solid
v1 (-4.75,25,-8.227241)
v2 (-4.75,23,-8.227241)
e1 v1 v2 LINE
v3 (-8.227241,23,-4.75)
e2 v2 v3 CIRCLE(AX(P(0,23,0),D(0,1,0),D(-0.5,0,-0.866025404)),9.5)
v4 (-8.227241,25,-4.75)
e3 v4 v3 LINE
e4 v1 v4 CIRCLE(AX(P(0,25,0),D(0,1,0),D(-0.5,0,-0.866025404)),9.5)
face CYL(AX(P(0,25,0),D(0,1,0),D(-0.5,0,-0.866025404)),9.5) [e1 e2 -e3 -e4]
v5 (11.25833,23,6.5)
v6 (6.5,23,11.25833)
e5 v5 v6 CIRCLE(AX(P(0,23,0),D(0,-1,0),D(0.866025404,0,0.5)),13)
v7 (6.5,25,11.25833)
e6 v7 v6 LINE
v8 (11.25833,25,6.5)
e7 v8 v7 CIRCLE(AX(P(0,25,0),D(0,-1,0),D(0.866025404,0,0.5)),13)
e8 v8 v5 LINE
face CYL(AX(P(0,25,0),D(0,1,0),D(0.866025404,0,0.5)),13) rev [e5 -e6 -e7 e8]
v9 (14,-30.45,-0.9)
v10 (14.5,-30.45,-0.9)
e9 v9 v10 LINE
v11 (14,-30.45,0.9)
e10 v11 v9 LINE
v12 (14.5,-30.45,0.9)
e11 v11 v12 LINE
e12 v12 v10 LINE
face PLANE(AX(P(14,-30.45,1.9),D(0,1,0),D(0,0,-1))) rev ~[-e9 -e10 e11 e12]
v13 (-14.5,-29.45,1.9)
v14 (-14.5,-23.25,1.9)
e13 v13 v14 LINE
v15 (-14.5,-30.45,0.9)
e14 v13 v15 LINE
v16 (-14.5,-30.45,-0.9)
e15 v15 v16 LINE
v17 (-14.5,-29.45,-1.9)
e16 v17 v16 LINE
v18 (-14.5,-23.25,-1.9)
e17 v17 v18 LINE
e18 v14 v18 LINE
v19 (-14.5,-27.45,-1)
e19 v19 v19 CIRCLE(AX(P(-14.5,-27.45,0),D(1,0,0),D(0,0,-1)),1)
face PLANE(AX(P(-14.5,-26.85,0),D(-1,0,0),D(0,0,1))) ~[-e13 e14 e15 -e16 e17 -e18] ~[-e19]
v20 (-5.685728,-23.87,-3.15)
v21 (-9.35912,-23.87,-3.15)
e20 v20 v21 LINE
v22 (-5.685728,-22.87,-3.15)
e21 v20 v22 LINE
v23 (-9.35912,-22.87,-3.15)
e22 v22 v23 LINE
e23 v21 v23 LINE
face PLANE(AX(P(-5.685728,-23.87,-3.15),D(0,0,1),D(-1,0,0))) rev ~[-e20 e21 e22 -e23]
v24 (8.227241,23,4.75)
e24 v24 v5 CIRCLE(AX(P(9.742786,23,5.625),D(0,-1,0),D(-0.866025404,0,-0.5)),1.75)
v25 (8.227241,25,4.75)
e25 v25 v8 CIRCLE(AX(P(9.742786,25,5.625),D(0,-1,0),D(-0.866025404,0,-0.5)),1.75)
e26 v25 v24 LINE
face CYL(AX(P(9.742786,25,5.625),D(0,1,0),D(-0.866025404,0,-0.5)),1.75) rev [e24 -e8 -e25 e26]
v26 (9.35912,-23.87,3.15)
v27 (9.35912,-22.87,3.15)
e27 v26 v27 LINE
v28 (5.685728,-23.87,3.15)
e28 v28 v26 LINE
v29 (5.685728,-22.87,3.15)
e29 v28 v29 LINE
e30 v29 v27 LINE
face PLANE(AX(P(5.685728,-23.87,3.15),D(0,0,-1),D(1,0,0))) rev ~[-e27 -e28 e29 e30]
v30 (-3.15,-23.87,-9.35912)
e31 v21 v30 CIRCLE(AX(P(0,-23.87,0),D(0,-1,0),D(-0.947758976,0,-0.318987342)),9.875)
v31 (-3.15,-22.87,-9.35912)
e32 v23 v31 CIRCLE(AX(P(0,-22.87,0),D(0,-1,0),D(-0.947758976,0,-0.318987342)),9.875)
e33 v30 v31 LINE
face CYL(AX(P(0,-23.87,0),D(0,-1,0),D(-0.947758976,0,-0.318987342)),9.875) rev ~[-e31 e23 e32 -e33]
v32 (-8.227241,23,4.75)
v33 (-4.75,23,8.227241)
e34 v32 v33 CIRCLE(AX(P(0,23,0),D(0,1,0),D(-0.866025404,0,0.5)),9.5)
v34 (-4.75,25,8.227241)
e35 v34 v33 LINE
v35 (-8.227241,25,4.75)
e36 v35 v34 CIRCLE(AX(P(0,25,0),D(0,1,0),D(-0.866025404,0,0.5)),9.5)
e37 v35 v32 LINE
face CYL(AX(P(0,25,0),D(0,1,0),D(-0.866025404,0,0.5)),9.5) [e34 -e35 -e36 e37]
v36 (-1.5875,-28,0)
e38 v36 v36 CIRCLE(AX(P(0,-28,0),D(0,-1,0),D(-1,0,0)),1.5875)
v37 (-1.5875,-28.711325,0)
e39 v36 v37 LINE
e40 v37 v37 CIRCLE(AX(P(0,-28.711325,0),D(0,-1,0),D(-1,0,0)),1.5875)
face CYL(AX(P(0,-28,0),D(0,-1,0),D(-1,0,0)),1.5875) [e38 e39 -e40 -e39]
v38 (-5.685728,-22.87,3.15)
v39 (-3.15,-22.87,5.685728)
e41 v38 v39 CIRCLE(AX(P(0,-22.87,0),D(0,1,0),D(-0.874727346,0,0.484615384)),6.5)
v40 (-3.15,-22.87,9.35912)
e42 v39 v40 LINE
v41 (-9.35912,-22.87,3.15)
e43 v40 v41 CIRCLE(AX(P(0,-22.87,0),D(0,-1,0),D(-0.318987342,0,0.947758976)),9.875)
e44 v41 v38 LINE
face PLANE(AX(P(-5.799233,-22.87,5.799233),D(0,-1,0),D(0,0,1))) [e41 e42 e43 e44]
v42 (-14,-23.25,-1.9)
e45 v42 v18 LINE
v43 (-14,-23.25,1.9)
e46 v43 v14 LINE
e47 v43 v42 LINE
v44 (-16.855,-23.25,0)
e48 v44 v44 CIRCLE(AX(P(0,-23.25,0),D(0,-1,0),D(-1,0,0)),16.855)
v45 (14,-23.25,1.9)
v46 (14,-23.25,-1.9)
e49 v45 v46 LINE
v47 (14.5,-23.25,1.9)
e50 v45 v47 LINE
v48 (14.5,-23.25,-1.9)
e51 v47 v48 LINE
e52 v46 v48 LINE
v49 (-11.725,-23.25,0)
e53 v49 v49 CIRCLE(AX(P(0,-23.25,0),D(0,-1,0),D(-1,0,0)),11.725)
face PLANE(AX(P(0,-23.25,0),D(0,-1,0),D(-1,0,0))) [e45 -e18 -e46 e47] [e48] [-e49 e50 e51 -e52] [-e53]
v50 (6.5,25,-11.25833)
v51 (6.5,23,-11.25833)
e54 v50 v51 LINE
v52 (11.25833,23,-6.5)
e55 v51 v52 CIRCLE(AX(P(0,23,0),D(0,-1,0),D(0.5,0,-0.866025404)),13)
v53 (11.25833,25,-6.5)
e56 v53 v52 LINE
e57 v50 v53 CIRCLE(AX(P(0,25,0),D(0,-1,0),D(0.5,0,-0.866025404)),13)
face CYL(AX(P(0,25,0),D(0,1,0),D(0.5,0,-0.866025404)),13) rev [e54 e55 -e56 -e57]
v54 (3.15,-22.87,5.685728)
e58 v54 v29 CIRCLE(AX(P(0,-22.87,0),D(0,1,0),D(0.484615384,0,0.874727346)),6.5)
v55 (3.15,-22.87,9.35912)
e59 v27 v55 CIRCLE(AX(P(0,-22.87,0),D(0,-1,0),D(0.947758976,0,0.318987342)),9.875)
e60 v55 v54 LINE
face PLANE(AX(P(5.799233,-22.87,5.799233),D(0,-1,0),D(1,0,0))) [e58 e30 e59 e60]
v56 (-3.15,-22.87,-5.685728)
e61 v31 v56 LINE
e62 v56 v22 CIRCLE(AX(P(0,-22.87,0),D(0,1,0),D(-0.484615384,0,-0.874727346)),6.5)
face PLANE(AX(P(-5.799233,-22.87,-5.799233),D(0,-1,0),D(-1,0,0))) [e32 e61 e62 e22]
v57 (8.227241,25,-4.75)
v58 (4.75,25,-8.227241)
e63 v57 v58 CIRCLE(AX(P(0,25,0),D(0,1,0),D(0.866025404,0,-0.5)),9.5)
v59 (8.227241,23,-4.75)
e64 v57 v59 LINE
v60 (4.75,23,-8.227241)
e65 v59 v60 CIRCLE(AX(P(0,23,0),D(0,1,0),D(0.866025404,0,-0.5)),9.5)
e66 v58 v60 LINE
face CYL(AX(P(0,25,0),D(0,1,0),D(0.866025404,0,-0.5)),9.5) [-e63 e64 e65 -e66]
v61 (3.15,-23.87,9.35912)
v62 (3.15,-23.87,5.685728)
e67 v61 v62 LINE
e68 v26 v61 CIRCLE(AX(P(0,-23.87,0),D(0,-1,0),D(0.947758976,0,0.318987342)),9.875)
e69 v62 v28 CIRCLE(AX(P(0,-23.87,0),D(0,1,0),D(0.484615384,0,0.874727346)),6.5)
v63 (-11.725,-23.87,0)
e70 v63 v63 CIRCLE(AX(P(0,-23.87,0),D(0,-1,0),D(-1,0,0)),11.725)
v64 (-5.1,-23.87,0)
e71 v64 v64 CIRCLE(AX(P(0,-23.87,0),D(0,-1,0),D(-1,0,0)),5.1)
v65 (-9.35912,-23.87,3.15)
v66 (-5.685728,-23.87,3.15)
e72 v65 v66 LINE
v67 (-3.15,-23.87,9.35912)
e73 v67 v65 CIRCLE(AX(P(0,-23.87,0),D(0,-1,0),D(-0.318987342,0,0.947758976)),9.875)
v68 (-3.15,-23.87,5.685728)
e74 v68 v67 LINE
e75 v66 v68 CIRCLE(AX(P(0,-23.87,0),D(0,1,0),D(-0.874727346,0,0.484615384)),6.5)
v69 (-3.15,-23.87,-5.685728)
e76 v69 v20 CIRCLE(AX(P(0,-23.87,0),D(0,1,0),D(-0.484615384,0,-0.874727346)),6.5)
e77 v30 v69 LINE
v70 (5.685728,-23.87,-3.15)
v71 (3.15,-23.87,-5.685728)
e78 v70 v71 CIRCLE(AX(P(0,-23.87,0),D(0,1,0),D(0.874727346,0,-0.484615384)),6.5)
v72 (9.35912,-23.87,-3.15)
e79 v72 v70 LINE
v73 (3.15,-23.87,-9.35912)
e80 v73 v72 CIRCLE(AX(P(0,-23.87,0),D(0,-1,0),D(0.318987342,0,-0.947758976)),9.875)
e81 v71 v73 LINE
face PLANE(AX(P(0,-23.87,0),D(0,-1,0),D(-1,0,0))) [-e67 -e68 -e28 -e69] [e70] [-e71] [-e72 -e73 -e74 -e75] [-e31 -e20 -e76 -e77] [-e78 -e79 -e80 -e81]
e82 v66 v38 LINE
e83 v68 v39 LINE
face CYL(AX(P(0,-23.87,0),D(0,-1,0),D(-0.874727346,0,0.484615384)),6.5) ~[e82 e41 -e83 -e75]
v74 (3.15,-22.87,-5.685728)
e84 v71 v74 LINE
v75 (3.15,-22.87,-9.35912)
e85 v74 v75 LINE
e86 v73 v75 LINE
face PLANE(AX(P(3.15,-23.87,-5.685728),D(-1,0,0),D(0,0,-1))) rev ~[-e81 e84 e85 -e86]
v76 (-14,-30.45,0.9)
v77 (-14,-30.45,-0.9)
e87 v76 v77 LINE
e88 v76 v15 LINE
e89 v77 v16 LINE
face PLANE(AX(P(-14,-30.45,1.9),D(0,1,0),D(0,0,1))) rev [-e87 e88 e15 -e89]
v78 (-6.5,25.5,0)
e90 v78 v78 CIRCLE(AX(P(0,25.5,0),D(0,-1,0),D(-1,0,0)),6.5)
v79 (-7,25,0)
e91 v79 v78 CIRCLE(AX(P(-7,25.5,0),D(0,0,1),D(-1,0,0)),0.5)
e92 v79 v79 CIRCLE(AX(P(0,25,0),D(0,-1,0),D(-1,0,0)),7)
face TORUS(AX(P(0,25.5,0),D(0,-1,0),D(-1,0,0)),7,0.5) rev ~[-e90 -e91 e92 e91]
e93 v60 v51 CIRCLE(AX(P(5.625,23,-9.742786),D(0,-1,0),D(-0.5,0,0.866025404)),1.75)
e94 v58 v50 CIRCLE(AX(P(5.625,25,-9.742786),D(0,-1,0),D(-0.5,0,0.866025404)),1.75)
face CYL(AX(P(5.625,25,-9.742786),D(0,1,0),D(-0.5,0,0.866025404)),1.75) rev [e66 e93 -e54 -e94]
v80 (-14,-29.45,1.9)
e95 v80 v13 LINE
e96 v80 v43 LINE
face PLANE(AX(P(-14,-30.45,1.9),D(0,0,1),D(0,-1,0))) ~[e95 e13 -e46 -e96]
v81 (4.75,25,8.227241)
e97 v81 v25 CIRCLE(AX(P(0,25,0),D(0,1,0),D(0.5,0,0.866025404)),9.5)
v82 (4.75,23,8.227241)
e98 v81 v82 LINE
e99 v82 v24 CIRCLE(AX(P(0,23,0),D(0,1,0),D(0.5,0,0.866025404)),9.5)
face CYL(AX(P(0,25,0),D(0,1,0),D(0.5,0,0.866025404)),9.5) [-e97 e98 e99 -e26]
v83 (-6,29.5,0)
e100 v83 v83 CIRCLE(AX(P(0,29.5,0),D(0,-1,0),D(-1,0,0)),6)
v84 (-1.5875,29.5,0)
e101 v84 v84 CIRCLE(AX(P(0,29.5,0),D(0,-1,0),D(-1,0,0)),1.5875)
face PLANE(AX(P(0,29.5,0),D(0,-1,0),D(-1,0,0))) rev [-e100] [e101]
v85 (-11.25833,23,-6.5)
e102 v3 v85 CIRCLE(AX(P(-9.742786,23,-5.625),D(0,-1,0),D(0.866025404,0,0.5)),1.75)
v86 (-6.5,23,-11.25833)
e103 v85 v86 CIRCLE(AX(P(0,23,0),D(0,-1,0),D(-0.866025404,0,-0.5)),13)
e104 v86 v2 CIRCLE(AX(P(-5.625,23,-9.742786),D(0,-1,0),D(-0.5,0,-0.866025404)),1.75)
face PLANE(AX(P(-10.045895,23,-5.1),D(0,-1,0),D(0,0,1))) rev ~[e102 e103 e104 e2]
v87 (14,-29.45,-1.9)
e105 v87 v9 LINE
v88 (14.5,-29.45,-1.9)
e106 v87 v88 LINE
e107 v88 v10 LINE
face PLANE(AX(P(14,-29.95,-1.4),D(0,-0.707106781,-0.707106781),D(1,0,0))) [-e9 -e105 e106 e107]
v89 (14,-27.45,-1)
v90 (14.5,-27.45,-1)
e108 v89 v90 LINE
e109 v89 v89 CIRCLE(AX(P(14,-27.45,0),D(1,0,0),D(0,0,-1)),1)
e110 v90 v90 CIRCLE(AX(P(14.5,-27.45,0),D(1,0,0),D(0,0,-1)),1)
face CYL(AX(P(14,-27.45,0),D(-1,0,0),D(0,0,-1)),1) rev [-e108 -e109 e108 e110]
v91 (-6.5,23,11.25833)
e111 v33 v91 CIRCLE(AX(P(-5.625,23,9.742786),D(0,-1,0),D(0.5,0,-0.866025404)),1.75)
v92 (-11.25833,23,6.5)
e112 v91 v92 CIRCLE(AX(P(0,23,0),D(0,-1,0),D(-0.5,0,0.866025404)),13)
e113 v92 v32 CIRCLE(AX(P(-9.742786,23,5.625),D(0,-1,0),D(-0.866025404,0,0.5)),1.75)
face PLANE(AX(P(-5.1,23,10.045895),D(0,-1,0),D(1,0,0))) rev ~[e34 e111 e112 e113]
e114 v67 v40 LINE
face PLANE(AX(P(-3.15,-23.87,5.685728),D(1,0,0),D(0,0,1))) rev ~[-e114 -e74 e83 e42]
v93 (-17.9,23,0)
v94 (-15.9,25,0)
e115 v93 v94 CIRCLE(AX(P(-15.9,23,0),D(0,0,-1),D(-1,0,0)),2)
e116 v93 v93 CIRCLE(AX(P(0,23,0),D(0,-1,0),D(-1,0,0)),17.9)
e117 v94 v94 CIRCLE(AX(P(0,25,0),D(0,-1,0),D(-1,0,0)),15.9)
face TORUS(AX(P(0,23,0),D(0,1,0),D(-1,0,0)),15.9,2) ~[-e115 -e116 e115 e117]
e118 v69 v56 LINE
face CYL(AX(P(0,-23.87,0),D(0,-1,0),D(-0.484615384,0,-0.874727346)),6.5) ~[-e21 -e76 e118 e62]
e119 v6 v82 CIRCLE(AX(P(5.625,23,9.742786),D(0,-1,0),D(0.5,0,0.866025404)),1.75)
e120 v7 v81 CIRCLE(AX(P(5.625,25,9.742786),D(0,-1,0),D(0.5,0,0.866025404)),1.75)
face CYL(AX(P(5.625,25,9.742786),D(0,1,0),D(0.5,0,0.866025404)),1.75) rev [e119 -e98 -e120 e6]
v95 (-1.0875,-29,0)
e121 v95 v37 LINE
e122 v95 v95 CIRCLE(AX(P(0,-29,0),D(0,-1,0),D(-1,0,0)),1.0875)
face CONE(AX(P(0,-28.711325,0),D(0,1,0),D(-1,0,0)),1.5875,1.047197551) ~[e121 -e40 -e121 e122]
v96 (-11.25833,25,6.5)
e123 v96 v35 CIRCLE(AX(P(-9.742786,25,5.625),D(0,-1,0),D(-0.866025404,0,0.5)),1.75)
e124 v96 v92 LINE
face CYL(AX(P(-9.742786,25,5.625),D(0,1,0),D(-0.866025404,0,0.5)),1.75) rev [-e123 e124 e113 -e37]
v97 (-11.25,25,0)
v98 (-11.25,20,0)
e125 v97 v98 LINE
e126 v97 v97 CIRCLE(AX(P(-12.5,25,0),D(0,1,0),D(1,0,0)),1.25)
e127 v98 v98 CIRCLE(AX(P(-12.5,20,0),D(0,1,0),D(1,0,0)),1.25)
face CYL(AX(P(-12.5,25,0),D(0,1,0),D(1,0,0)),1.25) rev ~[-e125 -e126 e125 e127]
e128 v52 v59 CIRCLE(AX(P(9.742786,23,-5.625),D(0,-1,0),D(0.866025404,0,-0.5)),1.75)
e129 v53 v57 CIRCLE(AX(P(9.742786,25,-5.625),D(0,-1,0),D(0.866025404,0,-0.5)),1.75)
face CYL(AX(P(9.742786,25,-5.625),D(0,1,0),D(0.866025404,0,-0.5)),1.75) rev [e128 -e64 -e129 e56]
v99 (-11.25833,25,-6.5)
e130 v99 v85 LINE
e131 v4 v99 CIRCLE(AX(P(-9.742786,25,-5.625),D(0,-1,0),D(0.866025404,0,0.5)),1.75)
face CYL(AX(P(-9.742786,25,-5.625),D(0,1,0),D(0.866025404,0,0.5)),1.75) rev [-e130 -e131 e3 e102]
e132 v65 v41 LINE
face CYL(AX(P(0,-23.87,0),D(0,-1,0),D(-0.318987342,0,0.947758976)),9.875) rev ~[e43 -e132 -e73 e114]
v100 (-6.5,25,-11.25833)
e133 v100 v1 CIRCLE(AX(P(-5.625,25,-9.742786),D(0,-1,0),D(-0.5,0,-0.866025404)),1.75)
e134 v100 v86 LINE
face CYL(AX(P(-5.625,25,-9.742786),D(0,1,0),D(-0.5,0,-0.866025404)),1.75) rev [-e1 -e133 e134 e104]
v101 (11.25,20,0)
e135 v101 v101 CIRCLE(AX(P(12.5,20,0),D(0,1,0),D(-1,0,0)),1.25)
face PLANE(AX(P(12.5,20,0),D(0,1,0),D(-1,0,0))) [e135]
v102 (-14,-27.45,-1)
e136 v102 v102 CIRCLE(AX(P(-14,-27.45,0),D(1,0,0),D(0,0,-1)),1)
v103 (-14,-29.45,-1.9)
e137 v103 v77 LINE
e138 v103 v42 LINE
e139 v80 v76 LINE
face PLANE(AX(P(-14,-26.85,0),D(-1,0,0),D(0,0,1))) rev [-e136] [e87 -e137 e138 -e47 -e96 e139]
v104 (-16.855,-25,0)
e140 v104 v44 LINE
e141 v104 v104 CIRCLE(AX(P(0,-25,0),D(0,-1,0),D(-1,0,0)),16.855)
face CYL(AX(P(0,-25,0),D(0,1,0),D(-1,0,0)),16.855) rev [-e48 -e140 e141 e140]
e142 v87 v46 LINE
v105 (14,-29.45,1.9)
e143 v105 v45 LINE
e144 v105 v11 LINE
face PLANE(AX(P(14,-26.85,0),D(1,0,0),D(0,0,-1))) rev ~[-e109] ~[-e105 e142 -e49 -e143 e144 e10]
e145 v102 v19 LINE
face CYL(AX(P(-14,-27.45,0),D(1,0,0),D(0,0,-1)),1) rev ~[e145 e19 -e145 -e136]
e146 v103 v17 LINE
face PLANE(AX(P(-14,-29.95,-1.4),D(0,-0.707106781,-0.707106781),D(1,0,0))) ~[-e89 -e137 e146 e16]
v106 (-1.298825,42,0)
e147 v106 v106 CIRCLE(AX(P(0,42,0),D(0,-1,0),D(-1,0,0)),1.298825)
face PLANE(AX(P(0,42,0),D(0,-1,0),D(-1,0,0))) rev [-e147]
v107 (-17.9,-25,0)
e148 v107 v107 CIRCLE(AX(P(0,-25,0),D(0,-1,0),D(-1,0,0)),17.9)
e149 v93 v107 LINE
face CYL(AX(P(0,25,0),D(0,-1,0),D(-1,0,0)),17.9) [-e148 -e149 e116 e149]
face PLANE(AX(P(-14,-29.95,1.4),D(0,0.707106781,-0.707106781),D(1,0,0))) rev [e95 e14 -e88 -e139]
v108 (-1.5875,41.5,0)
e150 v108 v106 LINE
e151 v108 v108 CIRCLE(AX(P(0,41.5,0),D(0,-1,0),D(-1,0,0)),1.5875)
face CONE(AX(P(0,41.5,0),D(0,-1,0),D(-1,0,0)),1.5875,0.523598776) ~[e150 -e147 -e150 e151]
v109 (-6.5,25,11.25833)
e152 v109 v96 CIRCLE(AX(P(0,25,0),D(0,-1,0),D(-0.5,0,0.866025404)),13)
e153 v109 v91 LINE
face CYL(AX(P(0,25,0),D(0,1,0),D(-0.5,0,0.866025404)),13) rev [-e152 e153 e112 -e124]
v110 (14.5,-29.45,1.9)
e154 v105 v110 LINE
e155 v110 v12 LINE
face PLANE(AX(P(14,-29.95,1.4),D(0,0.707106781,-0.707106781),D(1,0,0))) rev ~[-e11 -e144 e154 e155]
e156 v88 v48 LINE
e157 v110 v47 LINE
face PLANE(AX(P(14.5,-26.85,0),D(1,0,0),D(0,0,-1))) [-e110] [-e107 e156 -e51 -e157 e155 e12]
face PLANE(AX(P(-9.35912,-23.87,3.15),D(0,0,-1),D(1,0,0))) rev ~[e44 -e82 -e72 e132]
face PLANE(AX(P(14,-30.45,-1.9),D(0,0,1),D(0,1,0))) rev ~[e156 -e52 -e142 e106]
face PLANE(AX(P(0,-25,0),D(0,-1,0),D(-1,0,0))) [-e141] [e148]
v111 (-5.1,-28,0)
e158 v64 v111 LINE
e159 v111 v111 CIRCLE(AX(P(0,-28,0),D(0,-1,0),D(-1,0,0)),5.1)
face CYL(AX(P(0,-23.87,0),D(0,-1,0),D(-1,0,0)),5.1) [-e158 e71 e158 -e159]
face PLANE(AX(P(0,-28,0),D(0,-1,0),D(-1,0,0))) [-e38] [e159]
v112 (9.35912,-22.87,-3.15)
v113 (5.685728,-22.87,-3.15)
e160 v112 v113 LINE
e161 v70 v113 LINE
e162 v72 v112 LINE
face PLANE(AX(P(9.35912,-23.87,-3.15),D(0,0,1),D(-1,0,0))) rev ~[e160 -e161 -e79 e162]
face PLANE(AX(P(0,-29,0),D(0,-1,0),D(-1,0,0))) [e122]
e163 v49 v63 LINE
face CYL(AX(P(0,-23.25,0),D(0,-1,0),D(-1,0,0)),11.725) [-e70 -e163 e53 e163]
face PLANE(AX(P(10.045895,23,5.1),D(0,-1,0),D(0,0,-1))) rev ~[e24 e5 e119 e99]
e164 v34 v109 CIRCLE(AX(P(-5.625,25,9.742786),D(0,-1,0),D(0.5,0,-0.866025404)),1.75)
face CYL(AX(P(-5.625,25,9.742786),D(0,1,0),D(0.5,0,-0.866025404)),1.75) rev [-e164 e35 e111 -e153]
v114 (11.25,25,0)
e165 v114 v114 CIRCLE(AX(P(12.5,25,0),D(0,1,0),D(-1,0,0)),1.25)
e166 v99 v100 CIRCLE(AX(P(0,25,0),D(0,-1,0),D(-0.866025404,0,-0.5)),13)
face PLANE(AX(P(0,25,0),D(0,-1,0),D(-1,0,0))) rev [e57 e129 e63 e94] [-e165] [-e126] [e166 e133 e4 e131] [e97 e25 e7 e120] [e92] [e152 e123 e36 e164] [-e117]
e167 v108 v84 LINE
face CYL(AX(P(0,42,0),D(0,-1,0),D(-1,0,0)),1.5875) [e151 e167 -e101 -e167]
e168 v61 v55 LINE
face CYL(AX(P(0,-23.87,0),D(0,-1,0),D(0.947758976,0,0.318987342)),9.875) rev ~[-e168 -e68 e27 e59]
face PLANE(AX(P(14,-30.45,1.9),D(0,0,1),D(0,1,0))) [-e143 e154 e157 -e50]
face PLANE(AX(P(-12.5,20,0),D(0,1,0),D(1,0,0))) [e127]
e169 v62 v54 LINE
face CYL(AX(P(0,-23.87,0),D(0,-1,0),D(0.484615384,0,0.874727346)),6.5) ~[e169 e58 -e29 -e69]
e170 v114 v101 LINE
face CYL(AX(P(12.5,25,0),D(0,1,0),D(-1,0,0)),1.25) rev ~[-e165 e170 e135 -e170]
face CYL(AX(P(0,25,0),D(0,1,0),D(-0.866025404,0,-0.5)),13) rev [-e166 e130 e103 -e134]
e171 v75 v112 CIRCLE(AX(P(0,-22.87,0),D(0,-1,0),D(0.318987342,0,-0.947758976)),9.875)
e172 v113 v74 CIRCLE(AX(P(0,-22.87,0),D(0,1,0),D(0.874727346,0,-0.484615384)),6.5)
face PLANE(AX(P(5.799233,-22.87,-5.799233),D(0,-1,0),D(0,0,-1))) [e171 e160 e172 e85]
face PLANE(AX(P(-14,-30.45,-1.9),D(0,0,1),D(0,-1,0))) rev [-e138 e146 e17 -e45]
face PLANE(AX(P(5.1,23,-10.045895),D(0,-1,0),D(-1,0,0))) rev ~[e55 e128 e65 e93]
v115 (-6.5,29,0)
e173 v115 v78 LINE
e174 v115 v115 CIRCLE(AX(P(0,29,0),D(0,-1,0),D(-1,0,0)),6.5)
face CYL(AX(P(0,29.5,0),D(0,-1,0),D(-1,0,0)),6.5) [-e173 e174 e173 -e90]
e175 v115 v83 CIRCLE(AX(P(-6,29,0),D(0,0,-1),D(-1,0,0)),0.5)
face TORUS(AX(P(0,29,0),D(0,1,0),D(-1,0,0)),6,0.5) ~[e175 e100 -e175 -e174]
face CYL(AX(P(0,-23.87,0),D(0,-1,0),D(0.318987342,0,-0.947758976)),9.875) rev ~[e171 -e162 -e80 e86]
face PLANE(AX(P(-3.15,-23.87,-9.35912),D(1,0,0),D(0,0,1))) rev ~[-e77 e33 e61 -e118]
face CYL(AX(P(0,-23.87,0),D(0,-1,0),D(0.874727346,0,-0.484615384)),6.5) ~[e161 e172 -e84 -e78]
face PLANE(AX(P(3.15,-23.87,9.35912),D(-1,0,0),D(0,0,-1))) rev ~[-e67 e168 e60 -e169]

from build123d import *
from OCP.BRepFilletAPI import BRepFilletAPI_MakeChamfer

# Parameters (mm, degrees)
SKETCH3_R          = 1.25
CUT_EXTRUDE2_DEPTH = 5
CUT_EXTRUDE3_DEPTH = 2
CIRPATTERN1_COUNT  = 4
CUT_EXTRUDE4_DEPTH = 1
CIRPATTERN2_COUNT  = 4
SKETCH6_W          = 3.8
SKETCH6_H          = 7.2
SKETCH6_R          = 1
EXTRUDE1_DEPTH     = 0.5
CHAMFER1_SIZE      = 1
FILLET1_R          = 2
FILLET3_R          = 0.5
CHAMFER2_SIZE      = 0.5
CHAMFER2_SIZE2     = 0.288675135


with BuildPart() as part:
    # Sketch1 → Revolve1 (revolve)
    with BuildSketch(Plane.XY):
        Polygon((0, 42), (1.5875, 42), (1.5875, 29.5), (6.5, 29.5), (6.5, 25), (17.9, 25), (17.9, -25), (16.855, -25), (16.855, -23.25), (11.725, -23.25), (11.725, -23.87), (5.1, -23.87), (5.1, -28), (1.5875, -28), (1.5875, -29), (0, -29), align=None)
    revolve(axis=Axis((0, 42, 0), (0, -1, 0)))

    # Sketch3 → Cut-Extrude2 (cut)
    with BuildSketch(Plane(origin=(0, 25, 0), x_dir=(1, 0, 0), z_dir=(0, 1, 0))):
        with Locations((12.5, 0)):
            Circle(SKETCH3_R)
        with Locations((-12.5, 0)):
            Circle(SKETCH3_R)
    extrude(amount=-CUT_EXTRUDE2_DEPTH, mode=Mode.SUBTRACT)

    # Sketch4 → Cut-Extrude3 (cut)
    with BuildSketch(Plane(origin=(0, 25, 0), x_dir=(1, 0, 0), z_dir=(0, 1, 0))):
        with BuildLine():
            ThreePointArc((4.75, 8.227241336), (6.717514421, 6.717514421), (8.227241336, 4.75))
            ThreePointArc((8.227241336, 4.75), (10.617785793, 4.109455543), (11.258330249, 6.5))
            ThreePointArc((11.258330249, 6.5), (9.192388155, 9.192388155), (6.5, 11.258330249))
            ThreePointArc((6.5, 11.258330249), (4.109455543, 10.617785793), (4.75, 8.227241336))
        make_face()
    cut_extrude3 = extrude(amount=-CUT_EXTRUDE3_DEPTH, mode=Mode.SUBTRACT)

    # CirPattern1: Cut-Extrude3 ×4 about axis
    cirpattern1_axis = Axis((0, 42, 0), (0, -1, 0))
    for i in range(1, CIRPATTERN1_COUNT):
        add(cut_extrude3.rotate(cirpattern1_axis, i * 360 / CIRPATTERN1_COUNT), mode=Mode.SUBTRACT)

    # Sketch5 → Cut-Extrude4 (cut)
    with BuildSketch(Plane.XZ.offset(23.87)):
        with BuildLine():
            Line((3.15, 9.359119884), (3.15, 5.685727746))
            ThreePointArc((3.15, 5.685727746), (4.596194078, 4.596194078), (5.685727746, 3.15))
            Line((5.685727746, 3.15), (9.359119884, 3.15))
            ThreePointArc((9.359119884, 3.15), (6.982679464, 6.982679464), (3.15, 9.359119884))
        make_face()
    cut_extrude4 = extrude(amount=-CUT_EXTRUDE4_DEPTH, mode=Mode.SUBTRACT)

    # CirPattern2: Cut-Extrude4 ×4 about axis
    cirpattern2_axis = Axis((0, 23, 0), (0, 1, 0))
    for i in range(1, CIRPATTERN2_COUNT):
        add(cut_extrude4.rotate(cirpattern2_axis, i * 360 / CIRPATTERN2_COUNT), mode=Mode.SUBTRACT)

    # Sketch6 → Extrude1 (add)
    with BuildSketch(Plane(origin=(14, 0, 0), x_dir=(0, 0, -1), z_dir=(1, 0, 0))):
        with Locations((0, -26.85)):
            Rectangle(SKETCH6_W, SKETCH6_H)
        with Locations((0, -27.45)):
            Circle(SKETCH6_R, mode=Mode.SUBTRACT)
    extrude1 = extrude(amount=EXTRUDE1_DEPTH)

    # Mirror1: Extrude1 across plane
    add(extrude1.mirror(Plane(origin=(0, 0, 0), x_dir=(0, 0, 1), z_dir=(1, 0, 0))))

    # Chamfer1
    chamfer1_edges = [part.edges().sort_by_distance(p)[0] for p in [
        (-14.25, -30.45, 1.9),
        (-14.25, -30.45, -1.9),
        (14.25, -30.45, 1.9),
        (14.25, -30.45, -1.9),
    ]]
    chamfer(chamfer1_edges, length=CHAMFER1_SIZE)

    # Fillet1
    fillet1_edges = [part.edges().sort_by_distance(p)[0] for p in [
        (-17.9, 25, 0),
    ]]
    fillet(fillet1_edges, radius=FILLET1_R)

    # Fillet3
    fillet3_edges = [part.edges().sort_by_distance(p)[0] for p in [
        (-6.5, 25, 0),
        (-6.5, 29.5, 0),
    ]]
    fillet(fillet3_edges, radius=FILLET3_R)

    # Chamfer2: one chamfer whose edges measure the first distance from different faces: ONE call of the kernel's chamfer builder (chamfer() names one face for all edges)
    chamfer2_edges_1 = [part.edges().sort_by_distance(p)[0] for p in [
        (-1.5875, 42, 0),
    ]]
    chamfer2_side_1 = [part.faces().sort_by_distance(p)[0] for p in [
        (-1.5875, 35.75, 0),
    ]]
    chamfer2_edges_2 = [part.edges().sort_by_distance(p)[0] for p in [
        (-1.5875, -29, 0),
    ]]
    chamfer2_side_2 = [part.faces().sort_by_distance(p)[0] for p in [
        (0, -29, 0),
    ]]
    chamfer2 = BRepFilletAPI_MakeChamfer(part.part.solid().wrapped)
    for e in chamfer2_edges_1:
        chamfer2.Add(CHAMFER2_SIZE, CHAMFER2_SIZE2, e.wrapped, chamfer2_side_1[0].wrapped)  # the first distance lies on this face
    for e in chamfer2_edges_2:
        chamfer2.Add(CHAMFER2_SIZE, CHAMFER2_SIZE2, e.wrapped, chamfer2_side_2[0].wrapped)  # the first distance lies on this face
    add(Compound.cast(chamfer2.Shape()), mode=Mode.REPLACE)


solid = part.part
